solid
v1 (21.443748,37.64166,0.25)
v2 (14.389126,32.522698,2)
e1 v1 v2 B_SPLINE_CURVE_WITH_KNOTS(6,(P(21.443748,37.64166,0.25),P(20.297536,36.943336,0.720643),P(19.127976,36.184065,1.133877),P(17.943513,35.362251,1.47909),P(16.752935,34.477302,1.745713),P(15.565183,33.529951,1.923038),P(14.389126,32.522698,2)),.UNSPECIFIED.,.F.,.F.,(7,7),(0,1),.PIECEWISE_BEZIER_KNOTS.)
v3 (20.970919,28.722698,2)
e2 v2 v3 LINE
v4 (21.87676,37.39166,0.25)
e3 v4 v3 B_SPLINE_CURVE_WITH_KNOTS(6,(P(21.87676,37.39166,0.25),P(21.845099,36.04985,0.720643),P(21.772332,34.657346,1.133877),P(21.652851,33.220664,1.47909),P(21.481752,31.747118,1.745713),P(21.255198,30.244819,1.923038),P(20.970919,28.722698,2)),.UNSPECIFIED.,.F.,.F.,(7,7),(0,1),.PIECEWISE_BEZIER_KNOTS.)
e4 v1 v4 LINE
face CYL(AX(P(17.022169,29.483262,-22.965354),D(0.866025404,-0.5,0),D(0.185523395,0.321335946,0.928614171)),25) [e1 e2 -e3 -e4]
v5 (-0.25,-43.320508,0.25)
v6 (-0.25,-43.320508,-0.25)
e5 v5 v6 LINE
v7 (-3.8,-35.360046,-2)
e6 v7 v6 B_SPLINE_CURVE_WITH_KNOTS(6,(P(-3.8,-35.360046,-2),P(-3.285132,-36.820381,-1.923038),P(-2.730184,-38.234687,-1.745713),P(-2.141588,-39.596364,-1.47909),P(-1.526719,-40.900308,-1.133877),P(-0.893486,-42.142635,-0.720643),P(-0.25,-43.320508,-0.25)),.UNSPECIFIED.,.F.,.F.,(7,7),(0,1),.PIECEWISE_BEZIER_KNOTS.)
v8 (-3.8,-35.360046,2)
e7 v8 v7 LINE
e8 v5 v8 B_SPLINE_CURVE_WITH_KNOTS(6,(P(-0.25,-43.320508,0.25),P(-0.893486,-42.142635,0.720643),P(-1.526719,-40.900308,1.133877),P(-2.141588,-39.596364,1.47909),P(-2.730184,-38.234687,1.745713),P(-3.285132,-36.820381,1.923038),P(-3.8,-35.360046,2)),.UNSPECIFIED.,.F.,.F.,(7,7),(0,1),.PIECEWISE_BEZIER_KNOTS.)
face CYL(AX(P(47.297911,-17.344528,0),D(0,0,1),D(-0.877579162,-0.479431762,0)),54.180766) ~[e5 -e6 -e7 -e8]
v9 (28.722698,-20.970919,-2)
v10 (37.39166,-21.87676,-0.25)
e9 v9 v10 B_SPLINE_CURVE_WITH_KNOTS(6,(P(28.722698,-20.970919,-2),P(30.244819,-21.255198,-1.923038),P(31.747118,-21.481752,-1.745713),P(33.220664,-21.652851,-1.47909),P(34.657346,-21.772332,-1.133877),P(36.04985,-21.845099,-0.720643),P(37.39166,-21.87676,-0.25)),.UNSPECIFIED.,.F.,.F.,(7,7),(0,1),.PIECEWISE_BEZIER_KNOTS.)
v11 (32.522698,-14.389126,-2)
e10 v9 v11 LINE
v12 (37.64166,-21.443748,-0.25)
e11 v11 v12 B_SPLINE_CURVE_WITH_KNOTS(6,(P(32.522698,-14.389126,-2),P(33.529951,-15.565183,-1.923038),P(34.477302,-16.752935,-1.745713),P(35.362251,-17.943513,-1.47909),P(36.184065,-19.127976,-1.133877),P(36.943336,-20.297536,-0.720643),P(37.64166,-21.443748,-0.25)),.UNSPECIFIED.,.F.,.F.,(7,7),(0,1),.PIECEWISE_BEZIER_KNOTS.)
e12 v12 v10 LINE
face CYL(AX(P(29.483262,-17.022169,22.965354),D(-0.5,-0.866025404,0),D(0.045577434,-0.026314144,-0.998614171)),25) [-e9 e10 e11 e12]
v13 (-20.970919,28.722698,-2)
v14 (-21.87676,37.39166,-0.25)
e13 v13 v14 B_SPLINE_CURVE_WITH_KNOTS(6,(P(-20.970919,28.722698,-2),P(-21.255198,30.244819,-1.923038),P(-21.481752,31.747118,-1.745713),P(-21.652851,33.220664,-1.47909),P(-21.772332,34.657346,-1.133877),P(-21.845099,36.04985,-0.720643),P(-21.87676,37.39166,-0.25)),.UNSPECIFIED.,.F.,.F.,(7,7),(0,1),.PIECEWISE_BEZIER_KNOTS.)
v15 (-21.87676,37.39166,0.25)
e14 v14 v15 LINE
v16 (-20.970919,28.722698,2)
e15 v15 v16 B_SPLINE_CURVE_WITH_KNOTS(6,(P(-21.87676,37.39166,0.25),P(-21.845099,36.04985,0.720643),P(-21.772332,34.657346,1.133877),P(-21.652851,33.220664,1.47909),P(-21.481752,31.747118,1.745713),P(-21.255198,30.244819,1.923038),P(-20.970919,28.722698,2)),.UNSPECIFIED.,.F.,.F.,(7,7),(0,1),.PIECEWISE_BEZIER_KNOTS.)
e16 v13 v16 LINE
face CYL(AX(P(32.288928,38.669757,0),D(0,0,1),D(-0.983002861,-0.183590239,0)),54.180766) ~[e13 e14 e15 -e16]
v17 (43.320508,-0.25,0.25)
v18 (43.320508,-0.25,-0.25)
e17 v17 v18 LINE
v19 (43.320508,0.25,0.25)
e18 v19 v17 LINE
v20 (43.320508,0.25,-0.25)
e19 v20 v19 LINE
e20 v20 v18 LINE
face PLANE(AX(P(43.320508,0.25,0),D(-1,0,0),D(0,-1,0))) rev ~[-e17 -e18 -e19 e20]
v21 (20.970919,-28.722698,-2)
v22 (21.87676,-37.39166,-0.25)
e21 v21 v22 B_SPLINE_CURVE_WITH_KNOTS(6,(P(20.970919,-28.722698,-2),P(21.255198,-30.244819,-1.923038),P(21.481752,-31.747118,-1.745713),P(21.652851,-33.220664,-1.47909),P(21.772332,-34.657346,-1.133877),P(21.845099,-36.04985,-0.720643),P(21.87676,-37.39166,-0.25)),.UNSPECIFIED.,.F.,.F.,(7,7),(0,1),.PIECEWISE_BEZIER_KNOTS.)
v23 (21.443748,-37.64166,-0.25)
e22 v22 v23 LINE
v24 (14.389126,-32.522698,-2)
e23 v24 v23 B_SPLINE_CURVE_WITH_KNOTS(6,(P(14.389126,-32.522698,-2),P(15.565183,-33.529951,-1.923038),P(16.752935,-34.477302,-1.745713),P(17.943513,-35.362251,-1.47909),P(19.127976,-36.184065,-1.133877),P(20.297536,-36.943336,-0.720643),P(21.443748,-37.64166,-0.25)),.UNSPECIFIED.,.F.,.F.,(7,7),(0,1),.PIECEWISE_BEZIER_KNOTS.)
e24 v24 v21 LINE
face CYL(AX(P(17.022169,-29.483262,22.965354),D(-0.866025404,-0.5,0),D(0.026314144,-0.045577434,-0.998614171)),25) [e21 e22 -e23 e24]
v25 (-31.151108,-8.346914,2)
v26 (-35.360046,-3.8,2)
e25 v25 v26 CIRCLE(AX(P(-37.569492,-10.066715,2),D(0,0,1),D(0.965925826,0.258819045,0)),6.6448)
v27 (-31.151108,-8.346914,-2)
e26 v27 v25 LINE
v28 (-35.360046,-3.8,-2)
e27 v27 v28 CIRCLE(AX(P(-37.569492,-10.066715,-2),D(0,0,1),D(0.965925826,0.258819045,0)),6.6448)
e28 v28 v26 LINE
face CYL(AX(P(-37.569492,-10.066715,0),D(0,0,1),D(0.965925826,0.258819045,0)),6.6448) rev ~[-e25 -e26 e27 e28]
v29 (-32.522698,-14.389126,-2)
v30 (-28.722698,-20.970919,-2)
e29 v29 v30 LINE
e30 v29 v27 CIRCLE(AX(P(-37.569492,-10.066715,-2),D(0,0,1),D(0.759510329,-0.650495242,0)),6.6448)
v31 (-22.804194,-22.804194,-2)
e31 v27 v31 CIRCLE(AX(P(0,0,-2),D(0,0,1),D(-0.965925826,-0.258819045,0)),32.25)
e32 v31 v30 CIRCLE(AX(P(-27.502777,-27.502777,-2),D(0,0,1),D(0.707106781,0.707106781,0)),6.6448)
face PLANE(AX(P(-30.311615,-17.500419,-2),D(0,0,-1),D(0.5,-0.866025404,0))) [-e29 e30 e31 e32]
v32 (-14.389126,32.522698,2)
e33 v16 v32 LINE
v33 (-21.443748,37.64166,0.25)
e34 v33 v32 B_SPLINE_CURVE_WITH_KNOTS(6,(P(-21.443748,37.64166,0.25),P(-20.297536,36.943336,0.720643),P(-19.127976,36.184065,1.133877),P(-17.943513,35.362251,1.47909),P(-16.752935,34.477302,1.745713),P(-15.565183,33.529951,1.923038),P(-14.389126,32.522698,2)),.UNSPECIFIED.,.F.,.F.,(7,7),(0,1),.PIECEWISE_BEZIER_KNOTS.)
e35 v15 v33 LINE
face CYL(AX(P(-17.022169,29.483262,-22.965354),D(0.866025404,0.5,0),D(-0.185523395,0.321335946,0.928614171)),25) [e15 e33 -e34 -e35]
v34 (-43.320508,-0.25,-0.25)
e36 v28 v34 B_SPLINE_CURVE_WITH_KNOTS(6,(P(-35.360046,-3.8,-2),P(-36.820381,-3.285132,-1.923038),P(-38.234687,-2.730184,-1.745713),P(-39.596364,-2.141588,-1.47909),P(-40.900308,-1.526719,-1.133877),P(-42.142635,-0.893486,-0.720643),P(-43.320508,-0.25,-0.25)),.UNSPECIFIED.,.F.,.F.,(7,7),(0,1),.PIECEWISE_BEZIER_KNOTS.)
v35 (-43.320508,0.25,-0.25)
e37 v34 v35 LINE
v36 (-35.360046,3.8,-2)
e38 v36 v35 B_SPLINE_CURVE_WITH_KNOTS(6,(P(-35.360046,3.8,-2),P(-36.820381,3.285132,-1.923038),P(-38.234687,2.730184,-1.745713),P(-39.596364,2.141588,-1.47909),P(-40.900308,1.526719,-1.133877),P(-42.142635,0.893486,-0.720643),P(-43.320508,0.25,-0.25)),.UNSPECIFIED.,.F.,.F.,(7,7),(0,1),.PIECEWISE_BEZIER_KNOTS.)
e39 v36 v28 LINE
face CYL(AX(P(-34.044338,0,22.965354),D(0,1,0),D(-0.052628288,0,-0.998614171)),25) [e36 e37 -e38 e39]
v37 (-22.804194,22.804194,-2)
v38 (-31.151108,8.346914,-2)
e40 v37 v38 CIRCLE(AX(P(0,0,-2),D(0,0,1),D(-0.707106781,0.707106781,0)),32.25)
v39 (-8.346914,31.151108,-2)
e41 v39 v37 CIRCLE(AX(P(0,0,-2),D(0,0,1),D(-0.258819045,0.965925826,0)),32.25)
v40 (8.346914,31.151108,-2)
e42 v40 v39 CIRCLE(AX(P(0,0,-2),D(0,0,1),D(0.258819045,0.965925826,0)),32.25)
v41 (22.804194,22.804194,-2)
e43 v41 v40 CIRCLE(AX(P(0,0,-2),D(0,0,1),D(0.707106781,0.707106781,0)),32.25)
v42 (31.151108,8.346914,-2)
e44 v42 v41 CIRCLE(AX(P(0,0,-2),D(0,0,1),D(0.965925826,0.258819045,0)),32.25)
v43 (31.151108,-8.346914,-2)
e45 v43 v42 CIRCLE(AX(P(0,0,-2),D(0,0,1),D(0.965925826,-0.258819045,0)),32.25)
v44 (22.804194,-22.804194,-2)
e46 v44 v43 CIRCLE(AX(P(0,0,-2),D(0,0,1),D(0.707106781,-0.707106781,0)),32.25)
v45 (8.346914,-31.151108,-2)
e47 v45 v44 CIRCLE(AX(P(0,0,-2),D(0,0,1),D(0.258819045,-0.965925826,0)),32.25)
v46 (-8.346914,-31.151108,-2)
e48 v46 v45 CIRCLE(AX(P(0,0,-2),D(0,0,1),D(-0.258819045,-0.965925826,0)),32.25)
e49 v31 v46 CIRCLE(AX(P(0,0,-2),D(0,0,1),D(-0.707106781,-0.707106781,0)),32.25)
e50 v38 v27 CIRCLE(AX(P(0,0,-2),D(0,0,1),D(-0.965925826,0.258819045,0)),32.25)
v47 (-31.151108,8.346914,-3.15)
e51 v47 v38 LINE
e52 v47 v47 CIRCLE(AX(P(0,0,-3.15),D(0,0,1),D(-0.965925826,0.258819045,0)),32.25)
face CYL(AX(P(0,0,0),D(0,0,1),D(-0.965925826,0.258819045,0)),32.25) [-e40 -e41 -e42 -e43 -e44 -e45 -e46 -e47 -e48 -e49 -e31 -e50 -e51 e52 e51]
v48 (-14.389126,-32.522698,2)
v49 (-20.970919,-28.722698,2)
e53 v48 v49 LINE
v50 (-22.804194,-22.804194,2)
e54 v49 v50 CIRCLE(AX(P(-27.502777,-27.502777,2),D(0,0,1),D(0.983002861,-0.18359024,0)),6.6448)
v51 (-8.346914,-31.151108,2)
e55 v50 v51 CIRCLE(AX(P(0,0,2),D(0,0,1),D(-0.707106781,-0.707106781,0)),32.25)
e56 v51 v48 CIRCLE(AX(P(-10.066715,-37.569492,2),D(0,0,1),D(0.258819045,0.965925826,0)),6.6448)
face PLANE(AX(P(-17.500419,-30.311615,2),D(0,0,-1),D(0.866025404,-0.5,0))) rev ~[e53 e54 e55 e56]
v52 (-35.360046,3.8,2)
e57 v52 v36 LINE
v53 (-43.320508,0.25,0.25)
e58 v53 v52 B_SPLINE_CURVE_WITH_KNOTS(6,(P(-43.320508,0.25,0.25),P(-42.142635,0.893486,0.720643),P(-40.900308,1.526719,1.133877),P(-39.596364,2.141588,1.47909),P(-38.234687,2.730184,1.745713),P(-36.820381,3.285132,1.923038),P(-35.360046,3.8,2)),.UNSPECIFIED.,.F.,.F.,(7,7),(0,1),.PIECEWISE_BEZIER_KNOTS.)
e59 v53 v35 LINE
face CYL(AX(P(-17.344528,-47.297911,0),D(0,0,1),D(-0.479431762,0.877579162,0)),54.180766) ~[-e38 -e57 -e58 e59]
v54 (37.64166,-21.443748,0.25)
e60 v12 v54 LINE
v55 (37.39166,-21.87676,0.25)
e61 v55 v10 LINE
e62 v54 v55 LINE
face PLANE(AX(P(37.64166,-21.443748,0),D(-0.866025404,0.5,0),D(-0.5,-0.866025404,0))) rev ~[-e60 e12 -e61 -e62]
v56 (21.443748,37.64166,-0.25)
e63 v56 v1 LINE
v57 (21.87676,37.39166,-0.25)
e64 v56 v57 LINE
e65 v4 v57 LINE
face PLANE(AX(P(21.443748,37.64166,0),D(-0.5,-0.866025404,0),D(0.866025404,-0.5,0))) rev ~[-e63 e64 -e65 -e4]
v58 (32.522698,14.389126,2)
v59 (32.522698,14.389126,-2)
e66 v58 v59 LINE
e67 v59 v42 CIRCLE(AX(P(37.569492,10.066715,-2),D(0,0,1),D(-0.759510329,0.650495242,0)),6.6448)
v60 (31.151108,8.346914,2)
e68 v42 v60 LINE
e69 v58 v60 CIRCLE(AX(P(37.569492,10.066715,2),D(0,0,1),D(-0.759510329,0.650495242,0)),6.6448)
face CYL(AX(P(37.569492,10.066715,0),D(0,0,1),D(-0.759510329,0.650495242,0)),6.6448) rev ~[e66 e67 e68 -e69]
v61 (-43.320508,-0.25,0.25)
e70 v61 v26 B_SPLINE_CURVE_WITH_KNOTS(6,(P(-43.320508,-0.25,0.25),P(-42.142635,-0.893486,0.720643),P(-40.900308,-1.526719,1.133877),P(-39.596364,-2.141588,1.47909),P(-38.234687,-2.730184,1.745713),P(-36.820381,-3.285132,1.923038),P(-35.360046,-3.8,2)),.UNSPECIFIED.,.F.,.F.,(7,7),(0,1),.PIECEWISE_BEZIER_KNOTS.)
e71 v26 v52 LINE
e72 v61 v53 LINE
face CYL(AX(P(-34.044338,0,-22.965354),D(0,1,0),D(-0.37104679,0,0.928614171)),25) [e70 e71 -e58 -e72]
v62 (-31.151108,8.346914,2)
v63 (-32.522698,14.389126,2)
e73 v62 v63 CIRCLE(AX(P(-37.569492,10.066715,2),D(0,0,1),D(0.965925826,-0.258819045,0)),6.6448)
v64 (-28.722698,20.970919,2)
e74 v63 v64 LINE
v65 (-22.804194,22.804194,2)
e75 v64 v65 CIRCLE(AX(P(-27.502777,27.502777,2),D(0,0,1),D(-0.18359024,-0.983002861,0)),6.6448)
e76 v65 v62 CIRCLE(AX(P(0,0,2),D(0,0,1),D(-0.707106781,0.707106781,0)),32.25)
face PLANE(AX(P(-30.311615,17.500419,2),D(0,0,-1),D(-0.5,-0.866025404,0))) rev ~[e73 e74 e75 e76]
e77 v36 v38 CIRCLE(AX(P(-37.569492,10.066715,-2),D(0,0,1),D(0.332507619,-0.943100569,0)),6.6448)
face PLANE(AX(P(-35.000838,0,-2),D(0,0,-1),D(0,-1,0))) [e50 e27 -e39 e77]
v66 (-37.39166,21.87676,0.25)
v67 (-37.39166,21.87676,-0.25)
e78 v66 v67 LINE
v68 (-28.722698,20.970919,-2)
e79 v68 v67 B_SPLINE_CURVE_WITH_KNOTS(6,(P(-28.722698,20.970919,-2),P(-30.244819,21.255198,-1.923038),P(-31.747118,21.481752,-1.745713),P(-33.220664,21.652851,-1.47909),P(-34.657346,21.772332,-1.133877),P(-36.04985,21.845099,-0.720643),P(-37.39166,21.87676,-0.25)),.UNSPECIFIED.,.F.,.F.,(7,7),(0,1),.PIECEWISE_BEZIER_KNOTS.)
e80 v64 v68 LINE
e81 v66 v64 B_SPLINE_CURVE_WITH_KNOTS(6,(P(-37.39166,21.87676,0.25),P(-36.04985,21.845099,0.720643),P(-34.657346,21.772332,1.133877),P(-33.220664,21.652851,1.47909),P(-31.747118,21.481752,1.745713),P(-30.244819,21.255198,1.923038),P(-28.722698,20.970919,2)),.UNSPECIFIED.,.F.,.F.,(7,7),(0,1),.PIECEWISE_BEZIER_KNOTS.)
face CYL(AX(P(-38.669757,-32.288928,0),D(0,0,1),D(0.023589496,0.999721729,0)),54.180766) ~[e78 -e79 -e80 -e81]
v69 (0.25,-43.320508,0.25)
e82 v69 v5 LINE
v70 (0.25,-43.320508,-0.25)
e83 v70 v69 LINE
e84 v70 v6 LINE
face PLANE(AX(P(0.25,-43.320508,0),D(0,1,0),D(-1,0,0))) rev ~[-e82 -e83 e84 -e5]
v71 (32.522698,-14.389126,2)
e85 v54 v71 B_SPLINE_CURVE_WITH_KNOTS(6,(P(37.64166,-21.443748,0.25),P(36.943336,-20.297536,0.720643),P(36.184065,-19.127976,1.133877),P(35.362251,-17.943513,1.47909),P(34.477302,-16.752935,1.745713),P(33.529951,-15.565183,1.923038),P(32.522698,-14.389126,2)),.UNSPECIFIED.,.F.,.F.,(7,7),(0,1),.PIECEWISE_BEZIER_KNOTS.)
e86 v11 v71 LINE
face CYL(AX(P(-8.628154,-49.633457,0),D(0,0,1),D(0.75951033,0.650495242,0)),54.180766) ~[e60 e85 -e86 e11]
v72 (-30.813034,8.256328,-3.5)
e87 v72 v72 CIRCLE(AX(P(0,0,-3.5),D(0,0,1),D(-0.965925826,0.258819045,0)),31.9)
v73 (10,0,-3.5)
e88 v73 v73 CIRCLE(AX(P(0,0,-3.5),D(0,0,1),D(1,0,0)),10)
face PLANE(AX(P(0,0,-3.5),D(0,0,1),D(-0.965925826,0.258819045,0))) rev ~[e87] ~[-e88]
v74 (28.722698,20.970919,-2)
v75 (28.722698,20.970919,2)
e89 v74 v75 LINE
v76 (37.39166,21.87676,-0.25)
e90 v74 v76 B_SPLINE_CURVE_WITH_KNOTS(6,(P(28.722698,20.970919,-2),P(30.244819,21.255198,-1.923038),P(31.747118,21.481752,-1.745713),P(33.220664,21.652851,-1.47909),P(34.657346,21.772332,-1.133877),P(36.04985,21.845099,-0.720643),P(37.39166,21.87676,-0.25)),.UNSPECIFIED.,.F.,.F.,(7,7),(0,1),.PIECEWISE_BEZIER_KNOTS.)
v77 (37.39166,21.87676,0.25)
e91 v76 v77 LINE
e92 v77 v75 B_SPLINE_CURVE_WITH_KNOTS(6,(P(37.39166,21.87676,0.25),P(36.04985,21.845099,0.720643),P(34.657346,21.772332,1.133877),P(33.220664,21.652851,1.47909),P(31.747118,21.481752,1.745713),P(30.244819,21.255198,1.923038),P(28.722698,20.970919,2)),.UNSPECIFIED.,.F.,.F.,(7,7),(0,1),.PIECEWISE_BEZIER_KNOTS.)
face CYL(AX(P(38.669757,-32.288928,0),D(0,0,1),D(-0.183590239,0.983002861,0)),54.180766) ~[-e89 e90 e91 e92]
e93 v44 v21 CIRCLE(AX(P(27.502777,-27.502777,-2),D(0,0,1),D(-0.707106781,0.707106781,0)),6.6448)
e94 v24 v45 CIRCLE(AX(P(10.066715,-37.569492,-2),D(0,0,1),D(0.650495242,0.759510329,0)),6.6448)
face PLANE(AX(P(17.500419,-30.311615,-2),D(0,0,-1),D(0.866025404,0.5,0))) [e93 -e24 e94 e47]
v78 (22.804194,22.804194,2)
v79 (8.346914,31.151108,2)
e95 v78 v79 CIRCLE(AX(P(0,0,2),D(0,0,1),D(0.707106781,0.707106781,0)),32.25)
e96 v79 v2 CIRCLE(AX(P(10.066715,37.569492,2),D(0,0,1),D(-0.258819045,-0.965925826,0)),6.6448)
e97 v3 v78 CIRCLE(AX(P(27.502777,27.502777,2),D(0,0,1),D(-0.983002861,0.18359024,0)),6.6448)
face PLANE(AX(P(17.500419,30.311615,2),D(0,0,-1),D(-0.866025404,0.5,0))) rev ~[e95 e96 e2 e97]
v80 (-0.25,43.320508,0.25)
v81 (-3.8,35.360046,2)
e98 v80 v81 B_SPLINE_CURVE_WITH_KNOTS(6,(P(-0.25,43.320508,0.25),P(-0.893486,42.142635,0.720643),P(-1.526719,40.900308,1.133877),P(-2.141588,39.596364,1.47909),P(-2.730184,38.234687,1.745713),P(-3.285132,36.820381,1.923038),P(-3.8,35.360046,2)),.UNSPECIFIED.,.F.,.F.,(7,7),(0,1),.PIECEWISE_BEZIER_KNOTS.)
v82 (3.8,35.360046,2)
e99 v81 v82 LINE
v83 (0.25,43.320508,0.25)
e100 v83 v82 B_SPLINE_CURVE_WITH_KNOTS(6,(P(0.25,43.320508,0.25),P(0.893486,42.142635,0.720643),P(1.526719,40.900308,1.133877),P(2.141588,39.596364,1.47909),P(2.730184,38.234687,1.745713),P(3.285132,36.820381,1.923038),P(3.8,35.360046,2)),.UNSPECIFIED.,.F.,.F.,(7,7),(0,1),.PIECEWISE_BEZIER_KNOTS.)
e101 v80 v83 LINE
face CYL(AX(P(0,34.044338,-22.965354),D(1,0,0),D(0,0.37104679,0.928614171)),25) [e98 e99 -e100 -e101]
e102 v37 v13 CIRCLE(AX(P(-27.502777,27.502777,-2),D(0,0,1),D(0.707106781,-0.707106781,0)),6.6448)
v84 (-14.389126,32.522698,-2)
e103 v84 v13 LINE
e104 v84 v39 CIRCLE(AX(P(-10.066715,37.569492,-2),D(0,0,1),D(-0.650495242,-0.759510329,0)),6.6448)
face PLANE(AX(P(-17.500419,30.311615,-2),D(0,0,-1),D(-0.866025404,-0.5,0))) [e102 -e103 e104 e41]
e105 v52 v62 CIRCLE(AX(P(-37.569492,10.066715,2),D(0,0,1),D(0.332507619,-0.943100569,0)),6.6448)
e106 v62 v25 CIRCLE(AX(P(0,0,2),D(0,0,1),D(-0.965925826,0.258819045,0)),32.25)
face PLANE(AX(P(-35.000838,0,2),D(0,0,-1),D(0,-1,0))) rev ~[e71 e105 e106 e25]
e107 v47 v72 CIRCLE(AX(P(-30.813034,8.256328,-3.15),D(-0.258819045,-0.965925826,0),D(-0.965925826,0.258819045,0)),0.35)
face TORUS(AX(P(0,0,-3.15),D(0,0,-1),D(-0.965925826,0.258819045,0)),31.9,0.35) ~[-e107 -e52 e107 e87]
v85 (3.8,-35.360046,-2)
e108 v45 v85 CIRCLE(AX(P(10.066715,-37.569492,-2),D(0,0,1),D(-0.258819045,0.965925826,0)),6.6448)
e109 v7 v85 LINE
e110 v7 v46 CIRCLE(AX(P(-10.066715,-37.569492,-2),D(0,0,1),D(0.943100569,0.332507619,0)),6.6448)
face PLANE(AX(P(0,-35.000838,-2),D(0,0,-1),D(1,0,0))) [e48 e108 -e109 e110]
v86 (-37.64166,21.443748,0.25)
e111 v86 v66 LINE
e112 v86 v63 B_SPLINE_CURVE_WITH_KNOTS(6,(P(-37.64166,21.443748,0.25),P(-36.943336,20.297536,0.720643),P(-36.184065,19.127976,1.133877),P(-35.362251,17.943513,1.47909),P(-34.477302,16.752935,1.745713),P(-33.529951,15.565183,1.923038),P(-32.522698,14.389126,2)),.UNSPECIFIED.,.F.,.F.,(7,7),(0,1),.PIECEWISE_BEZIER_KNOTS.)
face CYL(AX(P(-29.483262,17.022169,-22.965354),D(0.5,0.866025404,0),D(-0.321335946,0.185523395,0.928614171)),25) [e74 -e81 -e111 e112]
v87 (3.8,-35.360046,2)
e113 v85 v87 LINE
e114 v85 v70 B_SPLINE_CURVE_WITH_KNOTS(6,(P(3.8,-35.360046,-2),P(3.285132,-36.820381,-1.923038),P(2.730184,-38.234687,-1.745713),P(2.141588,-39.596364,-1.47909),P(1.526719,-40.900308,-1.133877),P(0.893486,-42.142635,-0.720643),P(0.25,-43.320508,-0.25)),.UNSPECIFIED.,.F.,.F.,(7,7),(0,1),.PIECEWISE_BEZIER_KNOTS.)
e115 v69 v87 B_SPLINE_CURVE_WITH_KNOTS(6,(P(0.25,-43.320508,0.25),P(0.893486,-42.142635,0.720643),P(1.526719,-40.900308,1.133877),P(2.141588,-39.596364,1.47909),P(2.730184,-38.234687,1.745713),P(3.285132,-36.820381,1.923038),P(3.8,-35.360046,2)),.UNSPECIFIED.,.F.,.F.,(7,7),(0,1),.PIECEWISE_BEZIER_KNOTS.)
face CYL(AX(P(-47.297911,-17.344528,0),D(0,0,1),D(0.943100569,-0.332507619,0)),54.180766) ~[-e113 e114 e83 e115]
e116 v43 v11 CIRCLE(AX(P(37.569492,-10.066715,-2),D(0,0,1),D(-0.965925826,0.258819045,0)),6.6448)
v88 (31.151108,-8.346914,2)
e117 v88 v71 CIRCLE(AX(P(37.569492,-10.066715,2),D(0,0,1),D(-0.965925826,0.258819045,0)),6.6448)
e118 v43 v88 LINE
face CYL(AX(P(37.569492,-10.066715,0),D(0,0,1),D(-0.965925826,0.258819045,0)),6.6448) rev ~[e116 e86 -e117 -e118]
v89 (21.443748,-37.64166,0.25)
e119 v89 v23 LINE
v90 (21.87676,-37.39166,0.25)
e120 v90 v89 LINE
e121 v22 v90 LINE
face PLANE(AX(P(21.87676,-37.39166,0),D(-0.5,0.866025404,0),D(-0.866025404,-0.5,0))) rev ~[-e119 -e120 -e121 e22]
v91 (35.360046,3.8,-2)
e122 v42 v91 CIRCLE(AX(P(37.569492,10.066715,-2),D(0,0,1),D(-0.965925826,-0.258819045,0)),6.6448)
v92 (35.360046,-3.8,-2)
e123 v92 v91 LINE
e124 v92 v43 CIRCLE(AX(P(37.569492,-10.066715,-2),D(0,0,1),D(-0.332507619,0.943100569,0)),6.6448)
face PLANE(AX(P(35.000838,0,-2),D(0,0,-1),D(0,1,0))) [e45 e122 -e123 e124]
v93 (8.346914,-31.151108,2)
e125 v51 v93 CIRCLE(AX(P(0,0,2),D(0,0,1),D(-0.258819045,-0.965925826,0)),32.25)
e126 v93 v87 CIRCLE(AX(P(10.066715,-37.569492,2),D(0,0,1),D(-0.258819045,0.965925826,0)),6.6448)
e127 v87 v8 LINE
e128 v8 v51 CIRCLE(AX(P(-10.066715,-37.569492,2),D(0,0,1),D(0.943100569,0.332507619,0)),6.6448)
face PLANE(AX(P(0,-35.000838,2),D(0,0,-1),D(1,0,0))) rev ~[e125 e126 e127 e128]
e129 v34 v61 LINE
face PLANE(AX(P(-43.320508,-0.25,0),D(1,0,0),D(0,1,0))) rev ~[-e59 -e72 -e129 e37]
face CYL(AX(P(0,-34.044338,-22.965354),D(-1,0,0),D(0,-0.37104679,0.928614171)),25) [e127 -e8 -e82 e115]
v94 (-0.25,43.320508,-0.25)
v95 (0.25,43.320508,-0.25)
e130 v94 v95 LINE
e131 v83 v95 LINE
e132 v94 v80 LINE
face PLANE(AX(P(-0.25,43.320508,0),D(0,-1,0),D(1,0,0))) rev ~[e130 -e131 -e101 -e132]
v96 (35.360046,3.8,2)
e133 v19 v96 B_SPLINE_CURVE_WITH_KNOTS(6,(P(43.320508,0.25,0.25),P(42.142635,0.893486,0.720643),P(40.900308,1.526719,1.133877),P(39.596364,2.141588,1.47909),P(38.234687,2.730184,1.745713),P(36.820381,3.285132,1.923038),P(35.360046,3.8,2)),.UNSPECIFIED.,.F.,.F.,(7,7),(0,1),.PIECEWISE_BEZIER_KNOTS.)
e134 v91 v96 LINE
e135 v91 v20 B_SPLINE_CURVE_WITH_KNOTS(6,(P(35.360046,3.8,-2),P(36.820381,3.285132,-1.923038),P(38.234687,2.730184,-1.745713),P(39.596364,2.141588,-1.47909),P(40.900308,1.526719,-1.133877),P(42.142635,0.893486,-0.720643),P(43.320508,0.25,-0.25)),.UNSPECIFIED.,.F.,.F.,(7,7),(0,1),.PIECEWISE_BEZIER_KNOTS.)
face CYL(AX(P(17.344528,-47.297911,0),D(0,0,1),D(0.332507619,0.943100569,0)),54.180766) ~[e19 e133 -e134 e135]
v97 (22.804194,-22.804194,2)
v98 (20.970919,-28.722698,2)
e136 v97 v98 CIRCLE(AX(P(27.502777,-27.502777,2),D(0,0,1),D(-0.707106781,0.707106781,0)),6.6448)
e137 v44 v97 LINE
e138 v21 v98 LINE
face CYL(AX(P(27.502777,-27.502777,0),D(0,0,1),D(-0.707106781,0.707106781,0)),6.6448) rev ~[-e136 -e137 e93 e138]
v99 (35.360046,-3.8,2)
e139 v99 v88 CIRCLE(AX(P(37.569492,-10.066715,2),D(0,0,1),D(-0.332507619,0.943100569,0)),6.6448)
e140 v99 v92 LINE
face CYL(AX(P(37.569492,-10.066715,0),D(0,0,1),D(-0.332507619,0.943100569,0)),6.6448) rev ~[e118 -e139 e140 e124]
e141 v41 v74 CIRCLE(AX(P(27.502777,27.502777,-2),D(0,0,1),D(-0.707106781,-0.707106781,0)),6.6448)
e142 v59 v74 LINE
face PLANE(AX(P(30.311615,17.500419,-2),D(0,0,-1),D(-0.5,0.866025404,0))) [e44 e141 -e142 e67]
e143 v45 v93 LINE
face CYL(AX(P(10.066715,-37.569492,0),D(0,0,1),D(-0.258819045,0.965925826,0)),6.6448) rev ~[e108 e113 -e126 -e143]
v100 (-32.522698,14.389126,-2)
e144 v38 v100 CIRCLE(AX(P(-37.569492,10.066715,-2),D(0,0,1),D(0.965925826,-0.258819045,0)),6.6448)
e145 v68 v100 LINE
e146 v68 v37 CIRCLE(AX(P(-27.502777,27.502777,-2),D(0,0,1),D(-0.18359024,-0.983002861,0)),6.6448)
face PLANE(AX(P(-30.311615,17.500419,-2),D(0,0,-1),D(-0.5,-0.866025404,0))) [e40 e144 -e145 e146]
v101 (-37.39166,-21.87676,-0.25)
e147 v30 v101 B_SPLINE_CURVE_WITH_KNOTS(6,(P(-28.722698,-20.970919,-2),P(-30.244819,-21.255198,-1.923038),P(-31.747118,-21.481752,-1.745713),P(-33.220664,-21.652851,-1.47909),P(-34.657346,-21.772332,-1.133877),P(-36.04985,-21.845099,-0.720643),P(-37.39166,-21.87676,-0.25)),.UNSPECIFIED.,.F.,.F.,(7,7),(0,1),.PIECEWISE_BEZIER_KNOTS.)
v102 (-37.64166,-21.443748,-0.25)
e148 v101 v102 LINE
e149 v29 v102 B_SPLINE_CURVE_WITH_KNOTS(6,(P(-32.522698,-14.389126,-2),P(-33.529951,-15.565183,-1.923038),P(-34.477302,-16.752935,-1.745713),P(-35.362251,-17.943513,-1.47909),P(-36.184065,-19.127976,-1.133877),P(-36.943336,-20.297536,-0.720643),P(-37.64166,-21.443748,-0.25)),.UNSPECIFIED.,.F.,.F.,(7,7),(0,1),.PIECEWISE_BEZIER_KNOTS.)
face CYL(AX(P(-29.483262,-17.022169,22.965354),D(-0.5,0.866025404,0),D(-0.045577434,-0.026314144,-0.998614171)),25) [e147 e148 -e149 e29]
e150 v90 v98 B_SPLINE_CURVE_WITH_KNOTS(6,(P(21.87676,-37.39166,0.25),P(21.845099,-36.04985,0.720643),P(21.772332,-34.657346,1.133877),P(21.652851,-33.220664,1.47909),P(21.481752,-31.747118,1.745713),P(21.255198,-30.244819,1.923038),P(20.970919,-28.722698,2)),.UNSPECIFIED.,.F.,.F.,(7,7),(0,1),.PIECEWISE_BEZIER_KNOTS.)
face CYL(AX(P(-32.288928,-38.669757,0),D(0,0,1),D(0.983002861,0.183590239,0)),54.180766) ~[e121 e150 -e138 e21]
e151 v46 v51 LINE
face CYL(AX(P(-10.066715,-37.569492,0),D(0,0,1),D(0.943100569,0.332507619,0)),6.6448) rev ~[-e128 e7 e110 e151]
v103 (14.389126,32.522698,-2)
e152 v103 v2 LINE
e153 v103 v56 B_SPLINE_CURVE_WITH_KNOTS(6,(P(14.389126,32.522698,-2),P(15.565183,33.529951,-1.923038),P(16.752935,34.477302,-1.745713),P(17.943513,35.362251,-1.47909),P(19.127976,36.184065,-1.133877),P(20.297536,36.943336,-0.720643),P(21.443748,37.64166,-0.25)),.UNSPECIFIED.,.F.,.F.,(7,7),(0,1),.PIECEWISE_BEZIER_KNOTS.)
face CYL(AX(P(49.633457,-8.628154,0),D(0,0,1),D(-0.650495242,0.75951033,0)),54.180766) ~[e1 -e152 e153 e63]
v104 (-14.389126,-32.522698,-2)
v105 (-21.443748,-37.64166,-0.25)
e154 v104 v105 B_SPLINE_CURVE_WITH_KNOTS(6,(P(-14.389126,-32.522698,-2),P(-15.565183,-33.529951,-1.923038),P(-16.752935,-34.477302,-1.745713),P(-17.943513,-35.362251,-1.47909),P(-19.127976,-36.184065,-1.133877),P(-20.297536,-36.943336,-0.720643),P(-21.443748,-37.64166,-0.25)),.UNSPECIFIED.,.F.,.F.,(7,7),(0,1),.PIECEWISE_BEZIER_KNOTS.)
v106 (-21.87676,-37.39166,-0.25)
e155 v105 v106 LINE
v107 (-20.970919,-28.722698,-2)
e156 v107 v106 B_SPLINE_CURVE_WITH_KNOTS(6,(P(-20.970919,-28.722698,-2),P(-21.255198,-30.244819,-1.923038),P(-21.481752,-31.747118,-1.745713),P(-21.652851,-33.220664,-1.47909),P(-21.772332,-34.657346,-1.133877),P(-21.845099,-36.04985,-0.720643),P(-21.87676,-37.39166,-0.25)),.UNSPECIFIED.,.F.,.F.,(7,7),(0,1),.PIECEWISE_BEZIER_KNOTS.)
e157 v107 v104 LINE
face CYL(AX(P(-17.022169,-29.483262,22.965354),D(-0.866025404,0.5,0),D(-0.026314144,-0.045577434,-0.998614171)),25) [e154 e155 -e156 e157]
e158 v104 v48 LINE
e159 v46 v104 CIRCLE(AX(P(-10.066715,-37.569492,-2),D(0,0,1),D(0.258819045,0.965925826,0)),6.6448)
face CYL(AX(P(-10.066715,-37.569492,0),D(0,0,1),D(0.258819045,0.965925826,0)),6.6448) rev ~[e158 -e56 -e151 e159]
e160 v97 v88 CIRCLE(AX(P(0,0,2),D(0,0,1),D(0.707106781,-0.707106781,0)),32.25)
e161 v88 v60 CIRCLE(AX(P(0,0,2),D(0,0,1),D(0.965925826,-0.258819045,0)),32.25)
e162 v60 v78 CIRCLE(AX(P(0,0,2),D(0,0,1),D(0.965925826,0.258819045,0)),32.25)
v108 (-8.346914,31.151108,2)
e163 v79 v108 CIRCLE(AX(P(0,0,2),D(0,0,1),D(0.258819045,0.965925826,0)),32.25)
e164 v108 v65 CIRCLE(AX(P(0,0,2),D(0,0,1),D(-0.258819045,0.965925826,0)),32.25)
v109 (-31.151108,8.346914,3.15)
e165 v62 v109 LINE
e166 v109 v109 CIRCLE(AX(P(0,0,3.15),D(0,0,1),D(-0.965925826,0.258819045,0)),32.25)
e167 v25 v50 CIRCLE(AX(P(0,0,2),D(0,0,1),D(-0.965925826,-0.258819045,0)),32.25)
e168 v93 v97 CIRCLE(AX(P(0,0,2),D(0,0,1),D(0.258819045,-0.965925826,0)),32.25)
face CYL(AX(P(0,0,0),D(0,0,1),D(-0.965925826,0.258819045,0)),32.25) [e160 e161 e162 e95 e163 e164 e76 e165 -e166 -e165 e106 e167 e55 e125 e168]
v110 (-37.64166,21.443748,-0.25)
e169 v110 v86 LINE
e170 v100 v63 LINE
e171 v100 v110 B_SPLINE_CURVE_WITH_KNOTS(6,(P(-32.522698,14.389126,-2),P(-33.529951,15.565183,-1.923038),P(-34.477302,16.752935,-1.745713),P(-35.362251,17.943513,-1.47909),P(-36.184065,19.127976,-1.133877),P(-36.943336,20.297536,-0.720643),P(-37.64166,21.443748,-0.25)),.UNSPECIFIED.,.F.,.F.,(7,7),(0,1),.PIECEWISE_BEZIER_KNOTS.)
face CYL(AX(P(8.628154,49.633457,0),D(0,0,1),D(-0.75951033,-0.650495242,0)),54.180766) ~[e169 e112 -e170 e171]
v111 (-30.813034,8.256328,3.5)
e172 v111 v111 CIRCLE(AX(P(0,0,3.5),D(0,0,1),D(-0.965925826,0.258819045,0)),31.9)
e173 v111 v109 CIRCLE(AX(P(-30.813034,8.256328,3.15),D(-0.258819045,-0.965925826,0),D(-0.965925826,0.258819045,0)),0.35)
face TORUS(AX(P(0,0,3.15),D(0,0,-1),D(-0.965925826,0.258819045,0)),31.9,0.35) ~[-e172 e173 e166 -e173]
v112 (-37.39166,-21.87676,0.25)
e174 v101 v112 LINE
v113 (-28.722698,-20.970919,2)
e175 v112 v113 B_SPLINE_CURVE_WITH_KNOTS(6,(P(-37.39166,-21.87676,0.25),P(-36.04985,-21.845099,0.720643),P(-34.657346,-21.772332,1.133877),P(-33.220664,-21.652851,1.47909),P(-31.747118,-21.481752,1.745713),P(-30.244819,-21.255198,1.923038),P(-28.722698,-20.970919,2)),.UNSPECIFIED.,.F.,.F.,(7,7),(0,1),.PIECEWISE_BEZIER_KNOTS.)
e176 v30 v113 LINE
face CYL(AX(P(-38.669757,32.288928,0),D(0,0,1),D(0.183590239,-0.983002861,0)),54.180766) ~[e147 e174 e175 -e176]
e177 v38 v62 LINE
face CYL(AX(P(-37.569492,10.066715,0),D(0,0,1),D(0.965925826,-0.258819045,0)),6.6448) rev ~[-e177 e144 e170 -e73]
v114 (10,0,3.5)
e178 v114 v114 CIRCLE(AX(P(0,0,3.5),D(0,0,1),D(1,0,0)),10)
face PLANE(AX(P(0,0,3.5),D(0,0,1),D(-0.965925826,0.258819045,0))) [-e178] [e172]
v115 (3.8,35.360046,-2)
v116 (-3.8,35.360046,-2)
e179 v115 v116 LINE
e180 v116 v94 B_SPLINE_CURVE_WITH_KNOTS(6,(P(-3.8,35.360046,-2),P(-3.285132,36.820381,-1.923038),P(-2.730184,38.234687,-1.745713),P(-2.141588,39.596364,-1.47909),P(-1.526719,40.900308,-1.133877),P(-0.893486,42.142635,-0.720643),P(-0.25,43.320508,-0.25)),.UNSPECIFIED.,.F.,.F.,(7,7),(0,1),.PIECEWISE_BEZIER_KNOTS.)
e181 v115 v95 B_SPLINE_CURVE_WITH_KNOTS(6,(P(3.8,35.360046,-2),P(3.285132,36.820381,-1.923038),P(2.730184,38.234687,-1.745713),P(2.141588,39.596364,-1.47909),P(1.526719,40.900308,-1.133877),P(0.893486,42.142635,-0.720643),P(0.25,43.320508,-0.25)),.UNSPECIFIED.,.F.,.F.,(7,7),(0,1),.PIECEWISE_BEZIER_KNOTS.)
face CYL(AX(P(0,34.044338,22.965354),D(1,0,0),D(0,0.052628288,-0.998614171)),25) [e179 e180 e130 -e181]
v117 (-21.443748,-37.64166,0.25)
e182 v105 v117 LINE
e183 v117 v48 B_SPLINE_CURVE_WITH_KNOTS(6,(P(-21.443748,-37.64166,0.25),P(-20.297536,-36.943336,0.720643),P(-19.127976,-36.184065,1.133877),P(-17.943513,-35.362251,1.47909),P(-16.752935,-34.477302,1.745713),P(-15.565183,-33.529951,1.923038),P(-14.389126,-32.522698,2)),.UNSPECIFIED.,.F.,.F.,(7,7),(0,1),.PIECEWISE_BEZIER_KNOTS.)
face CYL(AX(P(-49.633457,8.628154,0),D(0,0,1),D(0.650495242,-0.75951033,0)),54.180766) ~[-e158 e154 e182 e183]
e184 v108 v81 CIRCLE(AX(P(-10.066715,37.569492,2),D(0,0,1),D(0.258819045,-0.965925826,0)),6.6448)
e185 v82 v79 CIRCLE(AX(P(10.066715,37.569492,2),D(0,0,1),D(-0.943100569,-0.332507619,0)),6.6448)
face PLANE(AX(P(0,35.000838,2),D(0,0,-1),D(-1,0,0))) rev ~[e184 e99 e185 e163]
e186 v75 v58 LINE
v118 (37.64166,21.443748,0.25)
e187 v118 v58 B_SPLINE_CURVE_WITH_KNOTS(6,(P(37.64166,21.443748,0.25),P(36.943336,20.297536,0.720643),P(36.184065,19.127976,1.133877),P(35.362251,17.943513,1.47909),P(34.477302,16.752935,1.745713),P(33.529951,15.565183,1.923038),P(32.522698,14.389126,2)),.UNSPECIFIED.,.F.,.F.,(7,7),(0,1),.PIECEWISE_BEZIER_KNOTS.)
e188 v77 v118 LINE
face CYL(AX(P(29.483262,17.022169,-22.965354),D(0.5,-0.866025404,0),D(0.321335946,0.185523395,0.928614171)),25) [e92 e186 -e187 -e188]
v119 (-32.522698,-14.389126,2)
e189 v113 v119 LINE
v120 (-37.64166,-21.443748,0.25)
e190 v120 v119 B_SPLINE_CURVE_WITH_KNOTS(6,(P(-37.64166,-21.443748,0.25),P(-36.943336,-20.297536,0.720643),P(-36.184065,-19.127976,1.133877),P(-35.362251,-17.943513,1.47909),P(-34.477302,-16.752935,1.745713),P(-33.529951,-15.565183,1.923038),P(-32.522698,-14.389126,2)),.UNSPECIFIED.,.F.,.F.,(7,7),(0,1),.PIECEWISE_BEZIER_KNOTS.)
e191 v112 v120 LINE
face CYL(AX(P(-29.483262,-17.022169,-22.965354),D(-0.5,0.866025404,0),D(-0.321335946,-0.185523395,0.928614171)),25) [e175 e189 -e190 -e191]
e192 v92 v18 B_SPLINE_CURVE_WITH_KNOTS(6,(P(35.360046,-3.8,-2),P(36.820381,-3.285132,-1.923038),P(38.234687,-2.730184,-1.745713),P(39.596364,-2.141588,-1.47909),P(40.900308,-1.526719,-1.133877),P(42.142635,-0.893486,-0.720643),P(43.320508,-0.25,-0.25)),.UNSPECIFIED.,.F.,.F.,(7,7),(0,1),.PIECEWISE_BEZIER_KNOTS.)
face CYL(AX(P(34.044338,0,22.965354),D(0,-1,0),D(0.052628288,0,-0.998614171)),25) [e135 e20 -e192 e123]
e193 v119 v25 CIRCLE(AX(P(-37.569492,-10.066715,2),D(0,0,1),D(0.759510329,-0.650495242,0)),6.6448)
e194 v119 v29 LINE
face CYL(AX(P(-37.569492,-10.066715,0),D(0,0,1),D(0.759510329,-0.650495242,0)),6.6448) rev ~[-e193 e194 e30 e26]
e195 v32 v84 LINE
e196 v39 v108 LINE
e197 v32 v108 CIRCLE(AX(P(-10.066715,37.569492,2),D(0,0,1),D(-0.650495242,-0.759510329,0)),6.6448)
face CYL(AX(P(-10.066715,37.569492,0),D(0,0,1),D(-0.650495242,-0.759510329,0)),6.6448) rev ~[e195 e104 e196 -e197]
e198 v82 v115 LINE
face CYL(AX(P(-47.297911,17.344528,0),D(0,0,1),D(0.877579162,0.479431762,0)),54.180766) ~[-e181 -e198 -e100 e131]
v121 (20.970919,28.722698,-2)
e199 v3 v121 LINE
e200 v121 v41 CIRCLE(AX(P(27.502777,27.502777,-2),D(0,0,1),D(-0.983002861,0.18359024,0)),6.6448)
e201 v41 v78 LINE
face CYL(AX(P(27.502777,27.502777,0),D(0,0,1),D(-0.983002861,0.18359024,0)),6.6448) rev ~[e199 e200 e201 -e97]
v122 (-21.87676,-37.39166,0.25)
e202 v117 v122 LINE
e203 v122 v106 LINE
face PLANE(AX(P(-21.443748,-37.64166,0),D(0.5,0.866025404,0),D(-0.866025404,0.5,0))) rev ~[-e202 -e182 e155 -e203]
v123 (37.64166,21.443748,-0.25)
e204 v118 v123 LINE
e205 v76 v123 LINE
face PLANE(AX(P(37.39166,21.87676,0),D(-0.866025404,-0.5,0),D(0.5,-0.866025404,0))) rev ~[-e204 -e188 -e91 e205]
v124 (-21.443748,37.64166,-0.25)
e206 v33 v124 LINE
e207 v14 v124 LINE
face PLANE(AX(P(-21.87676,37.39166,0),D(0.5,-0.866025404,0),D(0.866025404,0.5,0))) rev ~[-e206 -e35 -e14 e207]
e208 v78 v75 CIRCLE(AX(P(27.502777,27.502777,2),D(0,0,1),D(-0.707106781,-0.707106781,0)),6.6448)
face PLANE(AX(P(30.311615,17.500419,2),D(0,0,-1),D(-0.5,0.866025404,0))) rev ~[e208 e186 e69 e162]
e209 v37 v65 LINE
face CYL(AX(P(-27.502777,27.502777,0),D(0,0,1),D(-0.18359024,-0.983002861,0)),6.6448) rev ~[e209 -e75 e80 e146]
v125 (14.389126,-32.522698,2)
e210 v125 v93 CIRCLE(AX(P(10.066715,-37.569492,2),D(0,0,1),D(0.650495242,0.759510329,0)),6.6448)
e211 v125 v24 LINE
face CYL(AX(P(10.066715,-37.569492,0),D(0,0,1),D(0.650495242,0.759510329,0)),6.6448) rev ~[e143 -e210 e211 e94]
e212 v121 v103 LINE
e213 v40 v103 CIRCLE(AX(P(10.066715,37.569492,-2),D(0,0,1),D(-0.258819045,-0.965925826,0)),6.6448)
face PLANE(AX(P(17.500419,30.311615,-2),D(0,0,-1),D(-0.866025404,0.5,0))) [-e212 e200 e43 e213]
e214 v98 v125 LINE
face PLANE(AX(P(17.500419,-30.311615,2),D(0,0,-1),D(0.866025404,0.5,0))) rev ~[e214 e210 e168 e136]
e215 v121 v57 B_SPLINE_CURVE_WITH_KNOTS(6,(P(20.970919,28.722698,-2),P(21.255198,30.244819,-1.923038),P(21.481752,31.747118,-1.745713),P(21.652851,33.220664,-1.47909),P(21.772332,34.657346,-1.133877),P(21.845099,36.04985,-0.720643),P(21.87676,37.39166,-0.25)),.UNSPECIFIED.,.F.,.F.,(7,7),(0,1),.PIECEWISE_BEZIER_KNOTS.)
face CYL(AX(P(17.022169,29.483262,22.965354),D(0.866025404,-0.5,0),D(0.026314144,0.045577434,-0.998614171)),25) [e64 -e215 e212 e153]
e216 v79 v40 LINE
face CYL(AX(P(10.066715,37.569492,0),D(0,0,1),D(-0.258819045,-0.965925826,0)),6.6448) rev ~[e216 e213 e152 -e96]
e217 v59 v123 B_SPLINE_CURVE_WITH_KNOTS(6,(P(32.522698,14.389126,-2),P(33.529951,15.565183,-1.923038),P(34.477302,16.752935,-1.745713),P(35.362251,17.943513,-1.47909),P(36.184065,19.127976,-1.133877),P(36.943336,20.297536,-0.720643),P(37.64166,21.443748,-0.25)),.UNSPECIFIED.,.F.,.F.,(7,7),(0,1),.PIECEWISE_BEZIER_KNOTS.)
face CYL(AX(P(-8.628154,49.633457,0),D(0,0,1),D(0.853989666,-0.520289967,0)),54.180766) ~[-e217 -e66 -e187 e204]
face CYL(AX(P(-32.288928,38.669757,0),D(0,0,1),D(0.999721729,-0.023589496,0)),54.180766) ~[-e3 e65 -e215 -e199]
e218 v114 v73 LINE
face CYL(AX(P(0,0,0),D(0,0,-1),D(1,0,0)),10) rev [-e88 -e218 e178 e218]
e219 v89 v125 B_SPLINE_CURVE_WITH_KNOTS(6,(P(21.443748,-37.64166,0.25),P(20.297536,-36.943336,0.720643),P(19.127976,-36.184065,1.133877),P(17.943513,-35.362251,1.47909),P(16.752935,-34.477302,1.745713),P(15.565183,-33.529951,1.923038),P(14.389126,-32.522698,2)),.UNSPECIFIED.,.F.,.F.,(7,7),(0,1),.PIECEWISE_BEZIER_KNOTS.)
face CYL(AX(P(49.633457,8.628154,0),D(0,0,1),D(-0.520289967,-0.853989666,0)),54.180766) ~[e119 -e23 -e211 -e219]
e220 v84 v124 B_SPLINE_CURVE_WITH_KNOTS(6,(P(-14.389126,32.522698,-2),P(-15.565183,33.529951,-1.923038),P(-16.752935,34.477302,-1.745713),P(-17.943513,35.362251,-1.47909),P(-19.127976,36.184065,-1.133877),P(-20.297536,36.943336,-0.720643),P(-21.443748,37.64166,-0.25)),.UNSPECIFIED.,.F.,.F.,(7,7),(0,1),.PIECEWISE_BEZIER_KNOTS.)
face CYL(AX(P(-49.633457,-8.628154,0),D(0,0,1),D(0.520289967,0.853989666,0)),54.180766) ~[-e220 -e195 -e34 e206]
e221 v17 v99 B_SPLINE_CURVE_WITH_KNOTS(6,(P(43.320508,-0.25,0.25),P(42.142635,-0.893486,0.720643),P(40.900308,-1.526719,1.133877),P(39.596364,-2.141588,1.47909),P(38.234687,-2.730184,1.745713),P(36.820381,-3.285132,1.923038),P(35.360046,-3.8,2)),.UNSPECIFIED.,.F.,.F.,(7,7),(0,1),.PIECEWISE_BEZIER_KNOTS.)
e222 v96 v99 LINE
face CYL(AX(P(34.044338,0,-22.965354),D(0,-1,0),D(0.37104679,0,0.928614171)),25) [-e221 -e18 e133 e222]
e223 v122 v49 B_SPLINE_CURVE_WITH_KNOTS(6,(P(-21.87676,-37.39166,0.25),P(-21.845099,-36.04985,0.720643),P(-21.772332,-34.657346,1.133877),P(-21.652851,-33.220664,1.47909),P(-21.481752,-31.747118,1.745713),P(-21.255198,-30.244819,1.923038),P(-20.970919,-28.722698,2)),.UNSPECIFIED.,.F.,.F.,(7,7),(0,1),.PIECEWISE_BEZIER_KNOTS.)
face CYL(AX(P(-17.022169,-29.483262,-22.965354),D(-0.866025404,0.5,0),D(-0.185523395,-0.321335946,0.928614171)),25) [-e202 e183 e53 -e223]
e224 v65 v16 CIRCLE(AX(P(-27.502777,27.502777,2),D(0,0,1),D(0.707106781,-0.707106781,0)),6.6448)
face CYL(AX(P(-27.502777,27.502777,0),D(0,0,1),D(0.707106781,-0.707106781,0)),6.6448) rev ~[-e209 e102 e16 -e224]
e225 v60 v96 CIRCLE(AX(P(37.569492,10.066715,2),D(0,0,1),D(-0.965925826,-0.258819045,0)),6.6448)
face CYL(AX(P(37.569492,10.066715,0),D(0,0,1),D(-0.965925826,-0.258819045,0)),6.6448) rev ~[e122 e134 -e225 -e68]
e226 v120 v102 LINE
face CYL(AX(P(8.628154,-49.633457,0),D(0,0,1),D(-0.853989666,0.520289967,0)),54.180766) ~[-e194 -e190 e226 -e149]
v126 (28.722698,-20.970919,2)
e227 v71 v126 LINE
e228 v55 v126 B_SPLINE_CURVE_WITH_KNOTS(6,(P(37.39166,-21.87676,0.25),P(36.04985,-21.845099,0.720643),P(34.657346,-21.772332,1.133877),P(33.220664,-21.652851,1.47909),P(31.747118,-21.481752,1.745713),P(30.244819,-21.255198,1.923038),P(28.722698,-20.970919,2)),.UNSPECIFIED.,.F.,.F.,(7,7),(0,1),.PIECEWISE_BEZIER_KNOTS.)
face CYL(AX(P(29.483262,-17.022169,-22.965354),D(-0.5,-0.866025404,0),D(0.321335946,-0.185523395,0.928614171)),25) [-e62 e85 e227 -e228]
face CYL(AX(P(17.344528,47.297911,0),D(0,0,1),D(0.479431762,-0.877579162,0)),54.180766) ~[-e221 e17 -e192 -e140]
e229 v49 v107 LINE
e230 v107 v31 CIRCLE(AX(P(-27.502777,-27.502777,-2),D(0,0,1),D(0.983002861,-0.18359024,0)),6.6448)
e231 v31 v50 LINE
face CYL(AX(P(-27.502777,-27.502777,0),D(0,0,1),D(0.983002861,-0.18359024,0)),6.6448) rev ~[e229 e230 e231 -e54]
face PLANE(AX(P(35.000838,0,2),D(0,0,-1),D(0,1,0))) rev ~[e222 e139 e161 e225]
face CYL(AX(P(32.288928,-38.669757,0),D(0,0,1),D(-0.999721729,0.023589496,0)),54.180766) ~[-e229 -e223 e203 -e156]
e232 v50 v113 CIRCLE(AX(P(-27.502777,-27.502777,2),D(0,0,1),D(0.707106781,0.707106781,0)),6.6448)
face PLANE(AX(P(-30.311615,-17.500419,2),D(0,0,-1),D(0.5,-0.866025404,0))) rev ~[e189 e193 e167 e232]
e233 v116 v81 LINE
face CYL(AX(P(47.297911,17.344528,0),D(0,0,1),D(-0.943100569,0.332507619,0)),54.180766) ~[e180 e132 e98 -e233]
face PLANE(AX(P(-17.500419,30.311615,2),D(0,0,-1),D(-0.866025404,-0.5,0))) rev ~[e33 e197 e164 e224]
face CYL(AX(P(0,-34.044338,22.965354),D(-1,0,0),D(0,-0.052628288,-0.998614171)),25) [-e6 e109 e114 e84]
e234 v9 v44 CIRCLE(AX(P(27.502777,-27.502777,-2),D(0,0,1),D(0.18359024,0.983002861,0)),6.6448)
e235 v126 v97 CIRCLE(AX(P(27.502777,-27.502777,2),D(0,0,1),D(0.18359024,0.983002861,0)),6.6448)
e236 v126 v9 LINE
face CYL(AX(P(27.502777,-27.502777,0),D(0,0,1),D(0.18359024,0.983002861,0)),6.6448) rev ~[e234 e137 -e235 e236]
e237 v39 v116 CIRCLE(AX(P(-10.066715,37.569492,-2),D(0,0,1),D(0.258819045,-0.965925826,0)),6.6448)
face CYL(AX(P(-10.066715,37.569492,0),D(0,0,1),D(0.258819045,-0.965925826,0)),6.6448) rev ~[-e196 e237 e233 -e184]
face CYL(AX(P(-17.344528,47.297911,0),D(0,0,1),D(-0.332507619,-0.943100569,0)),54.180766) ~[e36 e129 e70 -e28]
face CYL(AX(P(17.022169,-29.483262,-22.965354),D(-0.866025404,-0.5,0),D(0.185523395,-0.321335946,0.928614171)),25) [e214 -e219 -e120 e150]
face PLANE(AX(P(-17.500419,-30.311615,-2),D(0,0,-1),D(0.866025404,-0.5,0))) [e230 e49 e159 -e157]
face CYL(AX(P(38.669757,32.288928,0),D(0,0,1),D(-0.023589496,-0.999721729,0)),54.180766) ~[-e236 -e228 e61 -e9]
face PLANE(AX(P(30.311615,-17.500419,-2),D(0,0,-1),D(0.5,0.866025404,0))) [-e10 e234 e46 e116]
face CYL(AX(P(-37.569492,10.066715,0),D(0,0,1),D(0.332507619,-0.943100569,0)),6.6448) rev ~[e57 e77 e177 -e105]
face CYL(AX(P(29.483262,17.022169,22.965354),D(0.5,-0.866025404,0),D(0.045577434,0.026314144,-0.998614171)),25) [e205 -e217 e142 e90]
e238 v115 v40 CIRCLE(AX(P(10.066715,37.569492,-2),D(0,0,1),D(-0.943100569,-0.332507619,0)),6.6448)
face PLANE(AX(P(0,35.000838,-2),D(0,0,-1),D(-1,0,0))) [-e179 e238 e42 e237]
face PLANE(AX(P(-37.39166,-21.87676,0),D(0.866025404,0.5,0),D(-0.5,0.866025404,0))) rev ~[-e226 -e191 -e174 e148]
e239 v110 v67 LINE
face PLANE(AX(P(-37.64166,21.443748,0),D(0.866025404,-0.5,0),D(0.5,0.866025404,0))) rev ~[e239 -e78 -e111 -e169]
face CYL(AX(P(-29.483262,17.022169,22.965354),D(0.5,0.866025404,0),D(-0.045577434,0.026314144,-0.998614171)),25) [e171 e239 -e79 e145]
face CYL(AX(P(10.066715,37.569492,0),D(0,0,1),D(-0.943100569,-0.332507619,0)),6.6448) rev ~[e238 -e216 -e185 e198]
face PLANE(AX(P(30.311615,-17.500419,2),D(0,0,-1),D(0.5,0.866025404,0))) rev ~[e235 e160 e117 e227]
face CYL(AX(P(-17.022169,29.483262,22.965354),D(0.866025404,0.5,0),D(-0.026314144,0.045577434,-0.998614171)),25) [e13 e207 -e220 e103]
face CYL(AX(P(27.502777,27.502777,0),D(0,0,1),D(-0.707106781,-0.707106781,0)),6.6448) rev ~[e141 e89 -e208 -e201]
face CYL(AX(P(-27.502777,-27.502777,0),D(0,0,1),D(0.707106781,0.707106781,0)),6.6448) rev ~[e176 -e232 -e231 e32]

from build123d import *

# Parameters (mm, degrees)
EXTRUDE_1_DEPTH          = 2
CUT_EXTRUDE_1_DEPTH      = 6
PATTERN_CIRCULAR_1_COUNT = 12
SKETCH_6_R               = 32.25
SKETCH_6_R_2             = 10
EXTRUDE_2_DEPTH          = 3.5
FILLET_1_R               = 0.35


with BuildPart() as part:
    # Эскиз4 → Бобышка-Вытянуть1 (new, symmetric)
    with BuildSketch(Plane.XY):
        with BuildLine():
            Line((-0.25, 43.320508076), (0.25, 43.320508076))
            ThreePointArc((0.25, 43.320508076), (2.185336575, 39.411779528), (3.8, 35.360045512))
            ThreePointArc((3.8, 35.360045512), (5.552858836, 32.693174534), (8.346914205, 31.151107898))
            ThreePointArc((8.346914205, 31.151107898), (0, 32.25), (-8.346914205, 31.151107898))
            ThreePointArc((-8.346914205, 31.151107898), (-5.552858836, 32.693174534), (-3.8, 35.360045512))
            ThreePointArc((-3.8, 35.360045512), (-2.185336575, 39.411779528), (-0.25, 43.320508076))
        make_face()
    extrude(amount=EXTRUDE_1_DEPTH, both=True)

    # Эскиз5 → Вырез-Вытянуть1 (cut, symmetric)
    with BuildSketch(Plane(origin=(0, 0, 0), x_dir=(0, 0, -1), z_dir=(1, 0, 0))):
        with BuildLine():
            Line((-2, 35.360045512), (-3, 35.360045512))
            Line((-3, 35.360045512), (-3, 44.320508076))
            Line((-3, 44.320508076), (3, 44.320508076))
            Line((3, 44.320508076), (3, 35.360045512))
            Line((3, 35.360045512), (2, 35.360045512))
            ThreePointArc((2, 35.360045512), (1.451594964, 39.412074278), (0.25, 43.320508076))
            Line((0.25, 43.320508076), (-0.25, 43.320508076))
            ThreePointArc((-0.25, 43.320508076), (-1.451594964, 39.412074278), (-2, 35.360045512))
        make_face()
    extrude(amount=CUT_EXTRUDE_1_DEPTH, both=True, mode=Mode.SUBTRACT)


with BuildPart() as pattern_circular_1_1:
    # Круговой массив1: pattern copy
    add(part.part.rotate(Axis((0, 0, 0), (0, 0, 1)), 1 * 360 / PATTERN_CIRCULAR_1_COUNT))


with BuildPart() as pattern_circular_1_2:
    # Круговой массив1: pattern copy
    add(part.part.rotate(Axis((0, 0, 0), (0, 0, 1)), 2 * 360 / PATTERN_CIRCULAR_1_COUNT))


with BuildPart() as pattern_circular_1_3:
    # Круговой массив1: pattern copy
    add(part.part.rotate(Axis((0, 0, 0), (0, 0, 1)), 3 * 360 / PATTERN_CIRCULAR_1_COUNT))


with BuildPart() as pattern_circular_1_4:
    # Круговой массив1: pattern copy
    add(part.part.rotate(Axis((0, 0, 0), (0, 0, 1)), 4 * 360 / PATTERN_CIRCULAR_1_COUNT))


with BuildPart() as pattern_circular_1_5:
    # Круговой массив1: pattern copy
    add(part.part.rotate(Axis((0, 0, 0), (0, 0, 1)), 5 * 360 / PATTERN_CIRCULAR_1_COUNT))


with BuildPart() as pattern_circular_1_6:
    # Круговой массив1: pattern copy
    add(part.part.rotate(Axis((0, 0, 0), (0, 0, 1)), 6 * 360 / PATTERN_CIRCULAR_1_COUNT))


with BuildPart() as pattern_circular_1_7:
    # Круговой массив1: pattern copy
    add(part.part.rotate(Axis((0, 0, 0), (0, 0, 1)), 7 * 360 / PATTERN_CIRCULAR_1_COUNT))


with BuildPart() as pattern_circular_1_8:
    # Круговой массив1: pattern copy
    add(part.part.rotate(Axis((0, 0, 0), (0, 0, 1)), 8 * 360 / PATTERN_CIRCULAR_1_COUNT))


with BuildPart() as pattern_circular_1_9:
    # Круговой массив1: pattern copy
    add(part.part.rotate(Axis((0, 0, 0), (0, 0, 1)), 9 * 360 / PATTERN_CIRCULAR_1_COUNT))


with BuildPart() as pattern_circular_1_10:
    # Круговой массив1: pattern copy
    add(part.part.rotate(Axis((0, 0, 0), (0, 0, 1)), 10 * 360 / PATTERN_CIRCULAR_1_COUNT))


with BuildPart() as pattern_circular_1_11:
    # Круговой массив1: pattern copy
    add(part.part.rotate(Axis((0, 0, 0), (0, 0, 1)), 11 * 360 / PATTERN_CIRCULAR_1_COUNT))


with BuildPart() as part_1:
    add(part.part)

    add(pattern_circular_1_1.part)  # Бобышка-Вытянуть2 merges Круговой массив1_1

    add(pattern_circular_1_2.part)  # Бобышка-Вытянуть2 merges Круговой массив1_2

    add(pattern_circular_1_3.part)  # Бобышка-Вытянуть2 merges Круговой массив1_3

    add(pattern_circular_1_4.part)  # Бобышка-Вытянуть2 merges Круговой массив1_4

    add(pattern_circular_1_5.part)  # Бобышка-Вытянуть2 merges Круговой массив1_5

    add(pattern_circular_1_6.part)  # Бобышка-Вытянуть2 merges Круговой массив1_6

    add(pattern_circular_1_7.part)  # Бобышка-Вытянуть2 merges Круговой массив1_7

    add(pattern_circular_1_8.part)  # Бобышка-Вытянуть2 merges Круговой массив1_8

    add(pattern_circular_1_9.part)  # Бобышка-Вытянуть2 merges Круговой массив1_9

    add(pattern_circular_1_10.part)  # Бобышка-Вытянуть2 merges Круговой массив1_10

    add(pattern_circular_1_11.part)  # Бобышка-Вытянуть2 merges Круговой массив1_11
    # Эскиз6 → Бобышка-Вытянуть2 (add, symmetric)
    with BuildSketch(Plane.XY):
        Circle(SKETCH_6_R)
        Circle(SKETCH_6_R_2, mode=Mode.SUBTRACT)
    extrude(amount=EXTRUDE_2_DEPTH, both=True)

    # Скругление1
    fillet_1_edges = [part_1.edges().sort_by_distance(p)[0] for p in [
        (-32.25, 0, -3.5),
        (-32.25, 0, 3.5),
    ]]
    fillet(fillet_1_edges, radius=FILLET_1_R)


solid = part_1.part
